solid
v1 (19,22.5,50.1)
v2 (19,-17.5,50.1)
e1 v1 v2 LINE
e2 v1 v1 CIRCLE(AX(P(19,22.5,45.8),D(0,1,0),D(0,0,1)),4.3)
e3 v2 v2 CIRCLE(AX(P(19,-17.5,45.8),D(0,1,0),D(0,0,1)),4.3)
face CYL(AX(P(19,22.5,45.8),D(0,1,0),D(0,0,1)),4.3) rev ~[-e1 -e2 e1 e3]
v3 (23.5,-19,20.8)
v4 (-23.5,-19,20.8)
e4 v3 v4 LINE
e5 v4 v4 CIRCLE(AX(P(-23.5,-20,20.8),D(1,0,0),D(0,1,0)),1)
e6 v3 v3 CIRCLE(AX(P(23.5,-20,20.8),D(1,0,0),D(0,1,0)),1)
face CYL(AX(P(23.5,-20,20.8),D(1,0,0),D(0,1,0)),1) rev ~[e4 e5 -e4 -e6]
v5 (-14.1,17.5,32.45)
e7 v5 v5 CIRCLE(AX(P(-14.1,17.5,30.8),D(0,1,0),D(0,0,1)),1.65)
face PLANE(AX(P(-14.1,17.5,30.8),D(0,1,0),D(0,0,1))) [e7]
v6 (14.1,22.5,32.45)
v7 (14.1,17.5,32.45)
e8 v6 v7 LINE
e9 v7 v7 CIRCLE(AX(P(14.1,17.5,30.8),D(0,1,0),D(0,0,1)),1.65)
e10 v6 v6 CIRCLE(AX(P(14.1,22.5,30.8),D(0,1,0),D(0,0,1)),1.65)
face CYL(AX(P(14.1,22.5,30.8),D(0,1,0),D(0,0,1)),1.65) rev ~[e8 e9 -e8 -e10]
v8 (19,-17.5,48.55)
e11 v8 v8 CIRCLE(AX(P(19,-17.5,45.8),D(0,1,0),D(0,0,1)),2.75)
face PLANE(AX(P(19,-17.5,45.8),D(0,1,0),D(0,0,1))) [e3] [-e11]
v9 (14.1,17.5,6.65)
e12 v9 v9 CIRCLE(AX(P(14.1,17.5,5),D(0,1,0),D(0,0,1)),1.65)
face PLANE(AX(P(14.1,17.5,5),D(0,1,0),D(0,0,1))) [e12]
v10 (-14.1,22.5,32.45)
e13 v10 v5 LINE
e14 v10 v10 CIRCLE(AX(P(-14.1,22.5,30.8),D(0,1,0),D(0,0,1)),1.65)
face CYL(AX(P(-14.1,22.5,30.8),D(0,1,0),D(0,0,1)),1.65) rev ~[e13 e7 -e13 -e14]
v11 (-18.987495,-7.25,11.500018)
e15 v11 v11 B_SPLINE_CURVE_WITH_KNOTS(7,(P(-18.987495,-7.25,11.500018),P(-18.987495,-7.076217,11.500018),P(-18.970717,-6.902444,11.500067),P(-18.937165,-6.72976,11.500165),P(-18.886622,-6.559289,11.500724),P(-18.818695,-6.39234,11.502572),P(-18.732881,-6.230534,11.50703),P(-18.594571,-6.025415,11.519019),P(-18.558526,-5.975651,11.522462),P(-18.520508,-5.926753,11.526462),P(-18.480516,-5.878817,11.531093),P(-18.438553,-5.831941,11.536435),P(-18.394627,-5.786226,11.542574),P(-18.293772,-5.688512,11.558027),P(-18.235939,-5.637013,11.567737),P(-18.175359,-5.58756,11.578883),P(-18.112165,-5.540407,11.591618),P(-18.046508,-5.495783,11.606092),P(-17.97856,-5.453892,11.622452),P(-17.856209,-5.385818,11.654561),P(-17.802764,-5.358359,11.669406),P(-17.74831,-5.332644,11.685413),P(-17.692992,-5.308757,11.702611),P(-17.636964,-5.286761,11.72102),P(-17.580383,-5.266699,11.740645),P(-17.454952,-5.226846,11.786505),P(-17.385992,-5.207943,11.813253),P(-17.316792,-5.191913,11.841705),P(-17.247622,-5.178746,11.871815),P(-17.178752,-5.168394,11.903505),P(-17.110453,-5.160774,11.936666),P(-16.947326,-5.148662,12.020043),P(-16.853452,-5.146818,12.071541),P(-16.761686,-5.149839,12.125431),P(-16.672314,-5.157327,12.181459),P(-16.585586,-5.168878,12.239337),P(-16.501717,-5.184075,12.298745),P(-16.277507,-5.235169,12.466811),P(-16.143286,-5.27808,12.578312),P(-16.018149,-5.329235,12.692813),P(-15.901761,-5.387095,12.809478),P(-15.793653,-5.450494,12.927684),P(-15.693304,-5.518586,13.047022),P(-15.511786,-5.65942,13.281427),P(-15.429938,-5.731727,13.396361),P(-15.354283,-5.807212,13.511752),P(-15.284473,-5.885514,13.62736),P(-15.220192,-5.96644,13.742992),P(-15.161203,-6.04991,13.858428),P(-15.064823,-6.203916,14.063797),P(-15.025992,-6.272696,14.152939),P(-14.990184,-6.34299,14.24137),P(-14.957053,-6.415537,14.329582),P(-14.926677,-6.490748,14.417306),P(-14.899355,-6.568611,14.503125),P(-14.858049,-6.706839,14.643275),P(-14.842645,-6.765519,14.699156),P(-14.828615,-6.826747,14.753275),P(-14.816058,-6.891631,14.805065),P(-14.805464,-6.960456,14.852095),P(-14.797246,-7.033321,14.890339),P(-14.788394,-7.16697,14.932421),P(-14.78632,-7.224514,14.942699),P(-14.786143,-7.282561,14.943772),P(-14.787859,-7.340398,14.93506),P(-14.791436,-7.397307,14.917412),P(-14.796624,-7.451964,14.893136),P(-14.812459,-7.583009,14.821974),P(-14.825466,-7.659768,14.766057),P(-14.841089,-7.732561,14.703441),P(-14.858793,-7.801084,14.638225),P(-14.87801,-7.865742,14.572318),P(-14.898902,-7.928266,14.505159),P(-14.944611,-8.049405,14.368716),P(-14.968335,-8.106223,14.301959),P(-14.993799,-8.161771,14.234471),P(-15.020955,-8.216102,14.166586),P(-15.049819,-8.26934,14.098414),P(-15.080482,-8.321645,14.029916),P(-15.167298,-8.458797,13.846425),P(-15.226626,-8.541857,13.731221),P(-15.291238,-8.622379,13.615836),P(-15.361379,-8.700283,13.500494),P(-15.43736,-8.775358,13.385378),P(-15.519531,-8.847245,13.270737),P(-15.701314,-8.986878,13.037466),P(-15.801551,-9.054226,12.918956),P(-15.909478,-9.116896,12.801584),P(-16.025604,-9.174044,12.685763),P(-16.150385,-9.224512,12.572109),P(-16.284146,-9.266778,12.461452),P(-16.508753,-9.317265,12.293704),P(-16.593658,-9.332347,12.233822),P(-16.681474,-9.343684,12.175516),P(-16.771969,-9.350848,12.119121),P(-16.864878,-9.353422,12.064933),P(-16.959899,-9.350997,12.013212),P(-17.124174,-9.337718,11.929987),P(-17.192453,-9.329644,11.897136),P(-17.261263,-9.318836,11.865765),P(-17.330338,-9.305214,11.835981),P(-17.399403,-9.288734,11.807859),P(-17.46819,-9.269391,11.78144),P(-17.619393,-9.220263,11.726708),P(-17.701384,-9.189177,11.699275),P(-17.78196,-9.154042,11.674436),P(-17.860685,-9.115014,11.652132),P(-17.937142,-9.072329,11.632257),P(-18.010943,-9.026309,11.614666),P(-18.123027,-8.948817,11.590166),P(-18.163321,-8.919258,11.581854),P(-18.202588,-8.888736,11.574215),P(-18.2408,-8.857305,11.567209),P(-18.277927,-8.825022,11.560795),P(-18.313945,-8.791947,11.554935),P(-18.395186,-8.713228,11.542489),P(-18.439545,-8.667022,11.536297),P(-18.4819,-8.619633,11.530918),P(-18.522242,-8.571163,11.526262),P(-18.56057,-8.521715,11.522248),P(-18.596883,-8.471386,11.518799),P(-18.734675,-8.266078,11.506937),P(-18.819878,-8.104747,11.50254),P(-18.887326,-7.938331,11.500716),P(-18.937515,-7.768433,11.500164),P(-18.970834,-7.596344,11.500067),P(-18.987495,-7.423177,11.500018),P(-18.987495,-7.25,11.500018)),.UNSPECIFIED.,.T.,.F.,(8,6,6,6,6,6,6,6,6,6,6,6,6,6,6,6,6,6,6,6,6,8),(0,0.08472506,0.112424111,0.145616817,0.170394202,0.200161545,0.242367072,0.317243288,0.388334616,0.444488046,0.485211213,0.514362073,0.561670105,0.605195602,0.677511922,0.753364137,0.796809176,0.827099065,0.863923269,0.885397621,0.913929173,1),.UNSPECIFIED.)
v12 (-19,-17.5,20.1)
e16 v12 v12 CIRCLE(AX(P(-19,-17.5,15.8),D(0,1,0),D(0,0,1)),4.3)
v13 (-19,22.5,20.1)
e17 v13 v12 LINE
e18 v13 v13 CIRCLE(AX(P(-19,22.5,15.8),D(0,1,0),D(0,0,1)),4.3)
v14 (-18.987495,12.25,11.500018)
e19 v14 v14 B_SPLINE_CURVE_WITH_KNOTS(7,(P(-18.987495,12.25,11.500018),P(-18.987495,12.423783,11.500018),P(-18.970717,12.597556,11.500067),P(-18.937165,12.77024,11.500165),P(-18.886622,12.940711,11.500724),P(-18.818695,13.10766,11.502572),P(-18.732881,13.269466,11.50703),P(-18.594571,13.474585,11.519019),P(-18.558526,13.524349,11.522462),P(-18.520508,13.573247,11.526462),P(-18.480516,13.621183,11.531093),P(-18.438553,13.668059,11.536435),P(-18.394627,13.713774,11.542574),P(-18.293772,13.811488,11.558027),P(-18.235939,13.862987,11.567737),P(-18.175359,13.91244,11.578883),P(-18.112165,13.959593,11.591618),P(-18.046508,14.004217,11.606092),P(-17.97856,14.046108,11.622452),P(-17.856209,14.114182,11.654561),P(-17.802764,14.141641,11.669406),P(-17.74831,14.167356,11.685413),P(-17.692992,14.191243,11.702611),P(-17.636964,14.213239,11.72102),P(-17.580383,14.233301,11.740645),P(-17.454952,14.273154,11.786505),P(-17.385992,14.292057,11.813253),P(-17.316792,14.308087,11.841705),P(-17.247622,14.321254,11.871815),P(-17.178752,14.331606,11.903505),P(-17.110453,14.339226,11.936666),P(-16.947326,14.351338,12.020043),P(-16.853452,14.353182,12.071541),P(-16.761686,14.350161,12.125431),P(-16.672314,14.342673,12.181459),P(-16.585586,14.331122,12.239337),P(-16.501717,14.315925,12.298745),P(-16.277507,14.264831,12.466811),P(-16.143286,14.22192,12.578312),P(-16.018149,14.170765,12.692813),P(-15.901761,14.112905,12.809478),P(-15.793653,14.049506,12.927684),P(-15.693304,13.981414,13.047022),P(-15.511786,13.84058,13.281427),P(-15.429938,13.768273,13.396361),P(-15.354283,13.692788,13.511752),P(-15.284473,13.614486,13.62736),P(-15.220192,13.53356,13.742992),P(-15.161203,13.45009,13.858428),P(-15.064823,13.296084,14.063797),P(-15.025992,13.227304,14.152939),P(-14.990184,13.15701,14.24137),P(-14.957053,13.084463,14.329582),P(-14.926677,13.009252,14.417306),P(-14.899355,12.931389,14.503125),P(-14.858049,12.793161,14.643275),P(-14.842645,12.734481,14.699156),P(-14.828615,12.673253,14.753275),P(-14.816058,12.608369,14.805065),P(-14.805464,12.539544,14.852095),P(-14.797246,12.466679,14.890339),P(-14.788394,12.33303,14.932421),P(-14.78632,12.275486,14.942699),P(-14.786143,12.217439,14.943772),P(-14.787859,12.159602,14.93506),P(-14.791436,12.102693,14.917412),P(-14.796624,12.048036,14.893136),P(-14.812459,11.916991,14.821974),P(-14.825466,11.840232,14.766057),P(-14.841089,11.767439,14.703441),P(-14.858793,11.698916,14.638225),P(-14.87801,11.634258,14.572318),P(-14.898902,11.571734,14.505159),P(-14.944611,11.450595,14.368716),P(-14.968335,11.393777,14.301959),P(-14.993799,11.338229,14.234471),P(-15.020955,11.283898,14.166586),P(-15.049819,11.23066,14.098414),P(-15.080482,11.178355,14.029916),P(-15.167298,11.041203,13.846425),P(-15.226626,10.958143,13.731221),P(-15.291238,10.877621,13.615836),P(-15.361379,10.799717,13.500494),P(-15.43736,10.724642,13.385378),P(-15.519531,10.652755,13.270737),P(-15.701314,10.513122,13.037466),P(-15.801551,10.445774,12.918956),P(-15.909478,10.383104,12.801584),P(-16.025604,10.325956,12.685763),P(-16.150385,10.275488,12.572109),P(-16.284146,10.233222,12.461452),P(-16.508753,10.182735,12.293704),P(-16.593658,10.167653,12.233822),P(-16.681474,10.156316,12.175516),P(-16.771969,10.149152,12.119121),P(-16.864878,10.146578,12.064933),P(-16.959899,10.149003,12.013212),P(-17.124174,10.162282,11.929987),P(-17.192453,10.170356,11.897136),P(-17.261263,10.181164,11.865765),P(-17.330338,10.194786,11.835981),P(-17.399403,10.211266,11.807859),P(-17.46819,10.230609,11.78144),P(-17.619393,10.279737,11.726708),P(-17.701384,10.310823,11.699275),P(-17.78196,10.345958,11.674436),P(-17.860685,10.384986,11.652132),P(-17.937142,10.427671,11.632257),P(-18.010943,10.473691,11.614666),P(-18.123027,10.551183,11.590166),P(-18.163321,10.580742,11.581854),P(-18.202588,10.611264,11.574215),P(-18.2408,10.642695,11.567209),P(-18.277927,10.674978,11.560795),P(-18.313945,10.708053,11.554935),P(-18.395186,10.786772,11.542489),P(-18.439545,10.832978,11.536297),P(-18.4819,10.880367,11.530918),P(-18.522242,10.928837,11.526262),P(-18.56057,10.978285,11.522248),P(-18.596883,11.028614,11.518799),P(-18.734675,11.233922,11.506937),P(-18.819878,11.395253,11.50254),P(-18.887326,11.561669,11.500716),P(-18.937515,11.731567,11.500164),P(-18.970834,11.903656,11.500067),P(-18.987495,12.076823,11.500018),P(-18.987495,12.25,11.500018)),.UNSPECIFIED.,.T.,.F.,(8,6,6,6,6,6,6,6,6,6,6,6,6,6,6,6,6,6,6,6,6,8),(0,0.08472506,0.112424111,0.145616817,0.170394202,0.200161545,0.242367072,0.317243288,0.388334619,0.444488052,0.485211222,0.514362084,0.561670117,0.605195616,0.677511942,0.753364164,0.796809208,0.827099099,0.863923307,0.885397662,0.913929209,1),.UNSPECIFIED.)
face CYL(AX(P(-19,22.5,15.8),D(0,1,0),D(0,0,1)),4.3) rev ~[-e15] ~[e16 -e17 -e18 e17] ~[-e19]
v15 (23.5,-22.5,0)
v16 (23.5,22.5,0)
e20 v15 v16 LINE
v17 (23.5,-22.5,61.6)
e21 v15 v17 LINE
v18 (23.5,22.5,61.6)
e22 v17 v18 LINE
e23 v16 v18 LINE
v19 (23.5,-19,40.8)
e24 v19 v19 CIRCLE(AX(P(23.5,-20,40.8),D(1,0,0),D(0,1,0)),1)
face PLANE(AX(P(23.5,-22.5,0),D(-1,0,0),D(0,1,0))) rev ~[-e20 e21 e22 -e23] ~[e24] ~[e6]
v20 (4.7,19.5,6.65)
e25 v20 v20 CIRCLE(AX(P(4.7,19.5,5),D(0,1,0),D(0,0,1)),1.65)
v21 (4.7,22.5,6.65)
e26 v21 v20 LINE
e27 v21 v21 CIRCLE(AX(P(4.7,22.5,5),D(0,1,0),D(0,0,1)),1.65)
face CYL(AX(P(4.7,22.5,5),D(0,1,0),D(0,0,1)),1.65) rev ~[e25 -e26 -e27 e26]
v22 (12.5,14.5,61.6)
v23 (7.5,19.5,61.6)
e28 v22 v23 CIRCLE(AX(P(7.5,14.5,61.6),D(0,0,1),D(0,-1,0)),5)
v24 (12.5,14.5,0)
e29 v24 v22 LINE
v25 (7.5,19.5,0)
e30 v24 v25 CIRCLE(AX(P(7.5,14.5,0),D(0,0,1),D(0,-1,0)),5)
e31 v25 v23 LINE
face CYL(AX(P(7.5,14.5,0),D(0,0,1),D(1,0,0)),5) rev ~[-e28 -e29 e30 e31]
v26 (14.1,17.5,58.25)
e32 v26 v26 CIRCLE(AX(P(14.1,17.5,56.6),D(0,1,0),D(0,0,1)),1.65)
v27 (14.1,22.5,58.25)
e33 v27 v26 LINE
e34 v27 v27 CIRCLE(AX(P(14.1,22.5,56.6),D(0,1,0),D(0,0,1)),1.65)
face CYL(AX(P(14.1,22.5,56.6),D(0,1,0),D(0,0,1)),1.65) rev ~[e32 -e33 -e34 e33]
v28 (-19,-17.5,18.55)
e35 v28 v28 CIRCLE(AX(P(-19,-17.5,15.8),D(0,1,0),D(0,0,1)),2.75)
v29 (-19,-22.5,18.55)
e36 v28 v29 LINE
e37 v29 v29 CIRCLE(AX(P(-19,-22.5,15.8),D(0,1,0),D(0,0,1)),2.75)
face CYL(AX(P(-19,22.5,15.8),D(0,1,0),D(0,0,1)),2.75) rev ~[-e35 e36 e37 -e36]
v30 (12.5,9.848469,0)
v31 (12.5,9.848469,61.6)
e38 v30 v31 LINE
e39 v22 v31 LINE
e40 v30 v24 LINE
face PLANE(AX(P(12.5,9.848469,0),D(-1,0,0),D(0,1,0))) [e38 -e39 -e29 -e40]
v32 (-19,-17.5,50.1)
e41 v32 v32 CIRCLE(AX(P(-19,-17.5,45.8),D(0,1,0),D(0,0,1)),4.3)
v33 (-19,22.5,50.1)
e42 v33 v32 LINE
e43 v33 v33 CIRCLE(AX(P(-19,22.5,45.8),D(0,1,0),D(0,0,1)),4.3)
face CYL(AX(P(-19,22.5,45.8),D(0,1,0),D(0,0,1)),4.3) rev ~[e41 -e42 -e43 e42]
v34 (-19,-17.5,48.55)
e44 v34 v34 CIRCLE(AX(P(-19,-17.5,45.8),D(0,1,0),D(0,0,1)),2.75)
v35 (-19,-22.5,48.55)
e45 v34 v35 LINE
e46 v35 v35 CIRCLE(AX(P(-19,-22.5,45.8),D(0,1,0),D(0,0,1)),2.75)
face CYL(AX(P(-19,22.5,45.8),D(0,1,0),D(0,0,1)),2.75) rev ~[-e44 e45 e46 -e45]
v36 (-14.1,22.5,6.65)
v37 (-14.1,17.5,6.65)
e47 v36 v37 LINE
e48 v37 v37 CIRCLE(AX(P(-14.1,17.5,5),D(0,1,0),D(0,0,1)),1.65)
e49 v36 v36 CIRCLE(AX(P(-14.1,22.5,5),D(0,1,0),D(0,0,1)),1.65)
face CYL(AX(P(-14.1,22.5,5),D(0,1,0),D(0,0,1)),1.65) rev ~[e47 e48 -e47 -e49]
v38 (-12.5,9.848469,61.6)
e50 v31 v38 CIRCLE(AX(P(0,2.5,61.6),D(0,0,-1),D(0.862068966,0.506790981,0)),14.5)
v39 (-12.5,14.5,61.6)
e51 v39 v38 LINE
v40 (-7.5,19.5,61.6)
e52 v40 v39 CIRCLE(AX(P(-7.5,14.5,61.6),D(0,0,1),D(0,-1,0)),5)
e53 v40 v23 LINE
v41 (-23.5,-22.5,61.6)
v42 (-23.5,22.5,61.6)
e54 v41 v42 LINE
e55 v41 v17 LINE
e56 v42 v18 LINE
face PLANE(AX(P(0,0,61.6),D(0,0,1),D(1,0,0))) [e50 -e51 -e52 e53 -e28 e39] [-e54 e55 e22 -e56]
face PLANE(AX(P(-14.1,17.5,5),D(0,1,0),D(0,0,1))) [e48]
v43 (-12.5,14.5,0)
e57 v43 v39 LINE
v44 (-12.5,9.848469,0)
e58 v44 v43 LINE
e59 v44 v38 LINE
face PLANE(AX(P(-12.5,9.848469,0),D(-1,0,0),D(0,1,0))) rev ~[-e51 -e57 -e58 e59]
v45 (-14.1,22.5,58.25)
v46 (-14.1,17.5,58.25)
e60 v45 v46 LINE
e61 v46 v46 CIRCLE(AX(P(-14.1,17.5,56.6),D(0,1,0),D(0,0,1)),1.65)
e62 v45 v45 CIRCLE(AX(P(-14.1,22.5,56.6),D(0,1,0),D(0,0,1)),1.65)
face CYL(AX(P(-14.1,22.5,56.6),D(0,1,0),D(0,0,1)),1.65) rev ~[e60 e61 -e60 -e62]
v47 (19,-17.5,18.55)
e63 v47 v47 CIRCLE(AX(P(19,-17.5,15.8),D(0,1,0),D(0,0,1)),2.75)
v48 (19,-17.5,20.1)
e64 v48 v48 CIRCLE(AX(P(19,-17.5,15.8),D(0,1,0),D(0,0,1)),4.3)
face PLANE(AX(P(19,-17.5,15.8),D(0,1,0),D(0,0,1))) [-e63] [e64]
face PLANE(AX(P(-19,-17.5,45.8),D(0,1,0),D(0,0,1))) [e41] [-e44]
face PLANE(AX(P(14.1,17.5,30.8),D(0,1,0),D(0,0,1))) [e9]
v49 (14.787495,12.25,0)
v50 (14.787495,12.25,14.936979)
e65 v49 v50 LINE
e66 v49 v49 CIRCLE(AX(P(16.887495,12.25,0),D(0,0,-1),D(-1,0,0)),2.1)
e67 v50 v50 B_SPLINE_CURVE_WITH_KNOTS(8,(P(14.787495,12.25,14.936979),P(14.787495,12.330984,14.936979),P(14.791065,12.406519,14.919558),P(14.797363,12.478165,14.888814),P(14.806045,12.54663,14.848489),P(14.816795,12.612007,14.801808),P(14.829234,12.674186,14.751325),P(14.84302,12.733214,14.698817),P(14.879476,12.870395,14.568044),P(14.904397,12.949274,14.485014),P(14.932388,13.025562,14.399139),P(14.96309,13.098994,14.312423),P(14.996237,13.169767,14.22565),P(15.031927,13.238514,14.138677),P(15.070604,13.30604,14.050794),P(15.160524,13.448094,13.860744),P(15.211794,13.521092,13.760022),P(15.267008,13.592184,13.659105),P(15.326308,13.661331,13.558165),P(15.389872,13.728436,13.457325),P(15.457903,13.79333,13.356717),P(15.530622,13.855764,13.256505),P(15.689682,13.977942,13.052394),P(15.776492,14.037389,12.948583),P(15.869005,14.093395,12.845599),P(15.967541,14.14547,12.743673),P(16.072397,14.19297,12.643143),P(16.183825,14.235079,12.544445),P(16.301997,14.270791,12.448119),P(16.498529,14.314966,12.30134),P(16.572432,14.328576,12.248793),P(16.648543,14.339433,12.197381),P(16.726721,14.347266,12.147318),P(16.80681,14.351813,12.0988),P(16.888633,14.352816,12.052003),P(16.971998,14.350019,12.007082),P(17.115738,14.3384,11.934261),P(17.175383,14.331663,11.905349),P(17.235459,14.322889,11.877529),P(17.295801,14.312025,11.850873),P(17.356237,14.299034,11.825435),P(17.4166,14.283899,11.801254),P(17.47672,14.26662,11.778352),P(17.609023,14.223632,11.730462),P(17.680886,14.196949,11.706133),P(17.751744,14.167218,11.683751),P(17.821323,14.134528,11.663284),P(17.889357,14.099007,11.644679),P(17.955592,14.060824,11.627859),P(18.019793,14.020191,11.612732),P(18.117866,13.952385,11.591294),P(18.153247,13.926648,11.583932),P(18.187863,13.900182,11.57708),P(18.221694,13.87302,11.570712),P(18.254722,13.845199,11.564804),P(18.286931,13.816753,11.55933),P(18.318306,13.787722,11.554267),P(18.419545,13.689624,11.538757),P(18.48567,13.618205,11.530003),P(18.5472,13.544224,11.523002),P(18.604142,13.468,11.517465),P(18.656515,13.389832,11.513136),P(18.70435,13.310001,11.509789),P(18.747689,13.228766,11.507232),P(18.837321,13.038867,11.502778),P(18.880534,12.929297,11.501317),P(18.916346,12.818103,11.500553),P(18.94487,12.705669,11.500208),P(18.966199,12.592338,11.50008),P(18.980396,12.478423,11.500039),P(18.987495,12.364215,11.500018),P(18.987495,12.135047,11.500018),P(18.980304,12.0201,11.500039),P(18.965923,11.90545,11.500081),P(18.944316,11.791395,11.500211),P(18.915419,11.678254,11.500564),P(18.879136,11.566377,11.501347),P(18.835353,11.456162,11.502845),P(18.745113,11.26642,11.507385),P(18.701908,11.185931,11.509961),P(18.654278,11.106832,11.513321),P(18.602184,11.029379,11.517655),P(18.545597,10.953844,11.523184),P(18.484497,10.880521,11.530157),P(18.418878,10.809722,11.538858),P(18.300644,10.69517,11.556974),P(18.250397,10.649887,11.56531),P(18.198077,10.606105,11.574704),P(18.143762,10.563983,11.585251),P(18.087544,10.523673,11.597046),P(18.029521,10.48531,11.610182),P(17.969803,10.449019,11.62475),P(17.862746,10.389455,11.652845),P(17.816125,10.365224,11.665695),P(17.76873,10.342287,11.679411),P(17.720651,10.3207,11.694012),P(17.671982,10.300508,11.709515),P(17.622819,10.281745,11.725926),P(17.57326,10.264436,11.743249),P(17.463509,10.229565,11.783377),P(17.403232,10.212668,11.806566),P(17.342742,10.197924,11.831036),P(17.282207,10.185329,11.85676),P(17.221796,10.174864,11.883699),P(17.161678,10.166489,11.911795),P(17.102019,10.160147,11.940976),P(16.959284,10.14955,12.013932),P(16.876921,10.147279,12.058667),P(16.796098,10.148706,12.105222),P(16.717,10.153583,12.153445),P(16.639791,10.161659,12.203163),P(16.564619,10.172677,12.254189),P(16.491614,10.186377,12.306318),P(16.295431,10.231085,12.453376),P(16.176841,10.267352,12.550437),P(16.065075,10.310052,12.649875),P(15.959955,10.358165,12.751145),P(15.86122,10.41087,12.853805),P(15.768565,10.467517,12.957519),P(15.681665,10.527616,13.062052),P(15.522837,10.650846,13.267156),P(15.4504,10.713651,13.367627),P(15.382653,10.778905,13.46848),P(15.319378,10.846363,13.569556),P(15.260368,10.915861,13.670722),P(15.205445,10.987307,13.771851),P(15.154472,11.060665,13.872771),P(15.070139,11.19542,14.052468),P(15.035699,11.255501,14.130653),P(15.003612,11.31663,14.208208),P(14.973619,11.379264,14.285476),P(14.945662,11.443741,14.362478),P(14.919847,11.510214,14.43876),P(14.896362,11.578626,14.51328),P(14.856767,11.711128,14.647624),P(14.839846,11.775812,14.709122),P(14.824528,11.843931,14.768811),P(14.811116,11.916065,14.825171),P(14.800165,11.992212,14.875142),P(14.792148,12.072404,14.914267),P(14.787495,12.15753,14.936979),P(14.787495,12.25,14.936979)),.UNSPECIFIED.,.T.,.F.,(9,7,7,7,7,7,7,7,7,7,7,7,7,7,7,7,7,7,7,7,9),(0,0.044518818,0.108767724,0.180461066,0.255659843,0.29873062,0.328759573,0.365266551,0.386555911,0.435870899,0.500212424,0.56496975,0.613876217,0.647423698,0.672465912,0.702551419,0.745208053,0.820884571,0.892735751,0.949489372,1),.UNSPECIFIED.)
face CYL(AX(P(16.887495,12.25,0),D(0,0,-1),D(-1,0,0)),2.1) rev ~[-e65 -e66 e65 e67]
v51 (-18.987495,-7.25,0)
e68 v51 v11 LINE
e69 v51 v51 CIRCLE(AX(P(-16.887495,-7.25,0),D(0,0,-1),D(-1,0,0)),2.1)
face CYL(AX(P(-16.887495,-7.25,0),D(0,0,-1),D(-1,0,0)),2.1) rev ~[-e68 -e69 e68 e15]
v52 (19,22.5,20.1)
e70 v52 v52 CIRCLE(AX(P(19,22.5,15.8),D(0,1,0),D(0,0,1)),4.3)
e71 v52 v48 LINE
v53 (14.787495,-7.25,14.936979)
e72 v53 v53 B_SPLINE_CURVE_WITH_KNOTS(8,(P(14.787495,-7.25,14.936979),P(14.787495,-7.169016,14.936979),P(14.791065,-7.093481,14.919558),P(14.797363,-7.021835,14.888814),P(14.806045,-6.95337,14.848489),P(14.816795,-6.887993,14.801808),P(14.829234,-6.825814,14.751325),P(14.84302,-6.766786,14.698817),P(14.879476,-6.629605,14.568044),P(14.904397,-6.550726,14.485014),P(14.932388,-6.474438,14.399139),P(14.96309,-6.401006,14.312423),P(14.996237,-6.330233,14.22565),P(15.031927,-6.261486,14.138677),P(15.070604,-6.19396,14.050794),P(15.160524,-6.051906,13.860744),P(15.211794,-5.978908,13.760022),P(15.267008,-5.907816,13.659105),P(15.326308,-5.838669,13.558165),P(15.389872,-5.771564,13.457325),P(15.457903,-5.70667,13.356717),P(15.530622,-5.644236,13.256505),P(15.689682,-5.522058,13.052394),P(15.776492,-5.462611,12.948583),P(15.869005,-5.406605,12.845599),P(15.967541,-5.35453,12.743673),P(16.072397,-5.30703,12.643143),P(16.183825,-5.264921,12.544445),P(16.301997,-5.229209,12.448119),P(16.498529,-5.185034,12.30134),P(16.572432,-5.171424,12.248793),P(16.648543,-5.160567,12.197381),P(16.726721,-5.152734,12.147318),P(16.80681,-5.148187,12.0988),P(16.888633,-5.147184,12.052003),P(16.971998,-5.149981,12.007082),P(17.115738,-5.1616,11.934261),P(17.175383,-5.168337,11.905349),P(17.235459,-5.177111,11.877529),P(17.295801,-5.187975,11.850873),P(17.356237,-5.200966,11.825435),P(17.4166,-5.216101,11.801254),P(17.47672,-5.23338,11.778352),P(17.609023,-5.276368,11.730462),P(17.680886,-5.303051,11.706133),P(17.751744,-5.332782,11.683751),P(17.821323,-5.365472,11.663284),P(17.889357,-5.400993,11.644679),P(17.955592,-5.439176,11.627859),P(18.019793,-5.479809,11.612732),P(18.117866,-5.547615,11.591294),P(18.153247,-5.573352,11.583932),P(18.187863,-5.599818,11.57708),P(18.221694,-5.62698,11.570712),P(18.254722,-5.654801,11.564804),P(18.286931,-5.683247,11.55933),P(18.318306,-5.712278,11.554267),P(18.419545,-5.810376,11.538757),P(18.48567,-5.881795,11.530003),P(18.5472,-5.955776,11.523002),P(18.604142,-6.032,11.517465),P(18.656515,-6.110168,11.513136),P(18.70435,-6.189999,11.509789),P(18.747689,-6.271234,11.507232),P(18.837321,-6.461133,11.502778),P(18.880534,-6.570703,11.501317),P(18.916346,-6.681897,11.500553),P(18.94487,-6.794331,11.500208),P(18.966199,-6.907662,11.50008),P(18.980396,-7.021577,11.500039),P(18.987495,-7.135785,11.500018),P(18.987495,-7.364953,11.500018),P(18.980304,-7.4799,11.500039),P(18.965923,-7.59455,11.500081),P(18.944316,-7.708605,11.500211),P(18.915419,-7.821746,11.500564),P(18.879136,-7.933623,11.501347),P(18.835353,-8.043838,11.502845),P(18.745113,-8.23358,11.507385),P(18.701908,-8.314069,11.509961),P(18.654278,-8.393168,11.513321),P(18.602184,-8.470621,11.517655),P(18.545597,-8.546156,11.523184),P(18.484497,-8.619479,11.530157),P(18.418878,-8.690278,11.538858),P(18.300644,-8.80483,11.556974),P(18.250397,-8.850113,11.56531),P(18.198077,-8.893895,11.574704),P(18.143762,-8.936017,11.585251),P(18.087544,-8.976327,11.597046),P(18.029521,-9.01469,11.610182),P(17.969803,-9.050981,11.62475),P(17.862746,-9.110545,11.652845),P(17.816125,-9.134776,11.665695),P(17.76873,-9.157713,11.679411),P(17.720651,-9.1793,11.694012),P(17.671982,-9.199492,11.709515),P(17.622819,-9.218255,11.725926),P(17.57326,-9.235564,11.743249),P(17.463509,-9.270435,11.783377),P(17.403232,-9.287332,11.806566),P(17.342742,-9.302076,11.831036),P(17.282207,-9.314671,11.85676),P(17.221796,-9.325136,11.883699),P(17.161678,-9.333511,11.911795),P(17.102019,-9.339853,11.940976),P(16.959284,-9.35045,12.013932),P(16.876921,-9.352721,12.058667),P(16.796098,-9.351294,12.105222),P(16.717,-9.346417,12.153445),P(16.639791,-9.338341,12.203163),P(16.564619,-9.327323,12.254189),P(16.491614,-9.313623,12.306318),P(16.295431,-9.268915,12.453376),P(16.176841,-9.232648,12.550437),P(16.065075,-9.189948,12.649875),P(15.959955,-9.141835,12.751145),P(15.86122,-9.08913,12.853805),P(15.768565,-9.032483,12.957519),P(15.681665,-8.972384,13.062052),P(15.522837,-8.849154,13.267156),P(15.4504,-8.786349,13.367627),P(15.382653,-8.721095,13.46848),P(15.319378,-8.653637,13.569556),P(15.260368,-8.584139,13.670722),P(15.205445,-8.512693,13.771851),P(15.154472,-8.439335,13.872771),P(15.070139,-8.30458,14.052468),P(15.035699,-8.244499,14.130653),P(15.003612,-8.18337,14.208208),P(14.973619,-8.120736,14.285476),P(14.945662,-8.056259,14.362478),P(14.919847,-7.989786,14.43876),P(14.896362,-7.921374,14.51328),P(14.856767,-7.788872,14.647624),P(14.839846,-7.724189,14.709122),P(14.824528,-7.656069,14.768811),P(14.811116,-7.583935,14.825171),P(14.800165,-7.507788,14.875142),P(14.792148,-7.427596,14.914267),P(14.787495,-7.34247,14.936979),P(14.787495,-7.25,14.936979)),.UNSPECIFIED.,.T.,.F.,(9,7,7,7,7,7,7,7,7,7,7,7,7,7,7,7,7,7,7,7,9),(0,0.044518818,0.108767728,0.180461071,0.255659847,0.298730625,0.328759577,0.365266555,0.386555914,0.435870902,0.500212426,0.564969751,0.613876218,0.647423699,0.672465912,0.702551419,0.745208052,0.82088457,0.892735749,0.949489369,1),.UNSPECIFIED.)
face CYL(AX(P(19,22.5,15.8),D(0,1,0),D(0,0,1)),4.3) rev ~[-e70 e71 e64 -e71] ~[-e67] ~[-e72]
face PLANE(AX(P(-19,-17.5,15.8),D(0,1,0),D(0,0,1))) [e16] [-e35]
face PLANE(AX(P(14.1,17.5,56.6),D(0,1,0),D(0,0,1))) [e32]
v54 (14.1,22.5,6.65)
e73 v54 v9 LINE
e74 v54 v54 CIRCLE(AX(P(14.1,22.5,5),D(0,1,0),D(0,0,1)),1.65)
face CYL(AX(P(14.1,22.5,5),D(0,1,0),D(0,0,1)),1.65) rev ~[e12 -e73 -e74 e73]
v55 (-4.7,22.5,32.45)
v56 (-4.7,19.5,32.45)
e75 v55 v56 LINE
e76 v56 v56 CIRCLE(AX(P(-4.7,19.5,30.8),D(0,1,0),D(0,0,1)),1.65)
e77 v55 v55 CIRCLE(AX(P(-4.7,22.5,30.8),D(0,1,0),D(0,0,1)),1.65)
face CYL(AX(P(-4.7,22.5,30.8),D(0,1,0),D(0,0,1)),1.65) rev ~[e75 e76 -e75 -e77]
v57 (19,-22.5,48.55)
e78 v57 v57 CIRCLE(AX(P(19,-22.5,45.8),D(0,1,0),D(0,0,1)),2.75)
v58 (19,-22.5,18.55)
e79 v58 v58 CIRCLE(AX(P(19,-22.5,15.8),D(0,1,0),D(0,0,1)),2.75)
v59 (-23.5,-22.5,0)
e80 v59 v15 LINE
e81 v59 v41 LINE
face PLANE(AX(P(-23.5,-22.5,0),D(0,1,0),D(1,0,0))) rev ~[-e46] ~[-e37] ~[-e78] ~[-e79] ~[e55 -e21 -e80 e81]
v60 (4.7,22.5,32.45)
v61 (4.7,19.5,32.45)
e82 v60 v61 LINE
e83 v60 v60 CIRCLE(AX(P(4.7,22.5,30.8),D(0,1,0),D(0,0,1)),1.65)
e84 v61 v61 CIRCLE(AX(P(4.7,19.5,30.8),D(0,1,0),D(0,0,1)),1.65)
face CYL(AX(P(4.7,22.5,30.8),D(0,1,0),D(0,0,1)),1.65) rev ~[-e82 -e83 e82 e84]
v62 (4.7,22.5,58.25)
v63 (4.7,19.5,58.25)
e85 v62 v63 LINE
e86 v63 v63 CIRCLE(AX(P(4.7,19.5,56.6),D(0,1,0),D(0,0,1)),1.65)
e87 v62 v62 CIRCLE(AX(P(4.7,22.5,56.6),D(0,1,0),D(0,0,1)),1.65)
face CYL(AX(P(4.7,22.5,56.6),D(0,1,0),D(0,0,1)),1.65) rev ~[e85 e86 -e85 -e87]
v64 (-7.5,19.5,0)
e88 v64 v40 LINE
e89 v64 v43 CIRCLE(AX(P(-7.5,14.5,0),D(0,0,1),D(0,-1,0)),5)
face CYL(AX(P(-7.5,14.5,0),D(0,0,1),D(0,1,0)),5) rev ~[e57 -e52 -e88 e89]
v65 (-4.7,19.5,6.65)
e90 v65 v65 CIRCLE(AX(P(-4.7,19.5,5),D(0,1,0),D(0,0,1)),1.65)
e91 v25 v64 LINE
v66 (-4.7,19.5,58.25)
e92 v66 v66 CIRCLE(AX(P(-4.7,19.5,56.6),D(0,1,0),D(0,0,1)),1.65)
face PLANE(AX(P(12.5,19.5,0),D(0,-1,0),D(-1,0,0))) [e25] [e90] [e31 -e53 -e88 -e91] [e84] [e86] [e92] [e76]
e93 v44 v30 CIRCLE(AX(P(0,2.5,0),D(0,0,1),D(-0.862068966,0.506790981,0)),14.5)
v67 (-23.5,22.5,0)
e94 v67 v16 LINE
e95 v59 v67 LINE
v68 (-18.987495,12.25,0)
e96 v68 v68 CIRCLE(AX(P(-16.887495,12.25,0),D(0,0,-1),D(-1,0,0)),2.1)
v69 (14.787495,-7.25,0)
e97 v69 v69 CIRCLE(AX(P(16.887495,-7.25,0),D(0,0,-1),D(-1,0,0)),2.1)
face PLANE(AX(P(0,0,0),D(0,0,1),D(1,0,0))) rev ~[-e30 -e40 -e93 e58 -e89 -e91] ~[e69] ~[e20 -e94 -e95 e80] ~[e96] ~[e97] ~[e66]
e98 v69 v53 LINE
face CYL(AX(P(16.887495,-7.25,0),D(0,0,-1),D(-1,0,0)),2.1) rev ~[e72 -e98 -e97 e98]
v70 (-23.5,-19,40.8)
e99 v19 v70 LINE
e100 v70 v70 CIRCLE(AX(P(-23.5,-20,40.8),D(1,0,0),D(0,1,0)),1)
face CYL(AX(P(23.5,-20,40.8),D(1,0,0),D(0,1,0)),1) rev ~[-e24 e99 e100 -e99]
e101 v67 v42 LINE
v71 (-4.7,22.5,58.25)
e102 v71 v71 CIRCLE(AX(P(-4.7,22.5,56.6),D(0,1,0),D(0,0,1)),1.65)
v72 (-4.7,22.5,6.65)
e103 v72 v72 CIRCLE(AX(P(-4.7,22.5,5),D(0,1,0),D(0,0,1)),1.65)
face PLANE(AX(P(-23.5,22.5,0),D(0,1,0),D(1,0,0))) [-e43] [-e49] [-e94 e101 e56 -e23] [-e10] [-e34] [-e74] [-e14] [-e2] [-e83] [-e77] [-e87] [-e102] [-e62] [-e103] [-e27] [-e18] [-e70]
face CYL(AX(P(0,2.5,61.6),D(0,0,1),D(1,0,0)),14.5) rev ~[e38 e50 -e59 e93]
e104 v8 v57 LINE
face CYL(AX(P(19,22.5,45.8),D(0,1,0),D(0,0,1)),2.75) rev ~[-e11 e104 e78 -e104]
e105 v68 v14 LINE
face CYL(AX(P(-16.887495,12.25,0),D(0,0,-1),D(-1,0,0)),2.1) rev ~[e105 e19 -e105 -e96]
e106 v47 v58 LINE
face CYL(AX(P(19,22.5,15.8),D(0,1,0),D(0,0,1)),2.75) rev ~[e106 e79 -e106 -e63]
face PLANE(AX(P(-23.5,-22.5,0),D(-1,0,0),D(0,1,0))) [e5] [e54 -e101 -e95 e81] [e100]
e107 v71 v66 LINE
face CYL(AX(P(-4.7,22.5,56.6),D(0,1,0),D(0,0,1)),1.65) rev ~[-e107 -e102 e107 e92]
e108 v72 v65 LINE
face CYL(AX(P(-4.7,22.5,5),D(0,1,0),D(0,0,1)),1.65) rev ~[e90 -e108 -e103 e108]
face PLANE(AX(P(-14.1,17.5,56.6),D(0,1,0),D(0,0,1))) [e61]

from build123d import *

# Parameters (mm, degrees)
SKETCH_1_W                       = 47
SKETCH_1_H                       = 45
EXTRUDE_1_DEPTH                  = 61.6
SKETCH_2_R                       = 14.5
CUT_EXTRUDE_1_DEPTH              = 100
SKETCH_6_R                       = 2.1
CUT_EXTRUDE_5_DEPTH              = 15
SKETCH_7_W                       = 25
SKETCH_7_H                       = 9.651530772
CUT_EXTRUDE_6_DEPTH              = 100
FILLET_1_R                       = 5
SKETCH_10_R                      = 2.75
CUT_EXTRUDE_8_DEPTH              = 100
PATTERN_LINEAR_2_COUNT           = 2
PATTERN_LINEAR_2_PITCH           = 38
PATTERN_LINEAR_2_COUNT_DIR2      = 2
PATTERN_LINEAR_2_PITCH_DIR2      = 30
SKETCH_11_R                      = 4.3
CUT_EXTRUDE_9_DEPTH              = 40
PATTERN_LINEAR_3_COUNT           = 2
PATTERN_LINEAR_3_PITCH           = 38
PATTERN_LINEAR_3_COUNT_DIR2      = 2
PATTERN_LINEAR_3_PITCH_DIR2      = 30
SKETCH_12_R                      = 1.65
CUT_EXTRUDE_10_DEPTH             = 5
PATTERN_LINEAR_4_COUNT           = 4
PATTERN_LINEAR_4_PITCH           = 9.4
PATTERN_LINEAR_5_COUNT           = 2
PATTERN_LINEAR_5_PITCH           = 25.8
PATTERN_LINEAR_5_COPY_1_SKETCH_R = 1.65
PATTERN_LINEAR_5_COPY_1_DEPTH    = 5
PATTERN_LINEAR_5_COPY_2_SKETCH_R = 1.65
PATTERN_LINEAR_5_COPY_2_DEPTH    = 5
PATTERN_LINEAR_5_COPY_3_SKETCH_R = 1.65
PATTERN_LINEAR_5_COPY_3_DEPTH    = 5
PATTERN_LINEAR_6_COUNT           = 2
PATTERN_LINEAR_6_PITCH           = 51.6
PATTERN_LINEAR_6_COPY_1_SKETCH_R = 1.65
PATTERN_LINEAR_6_COPY_1_DEPTH    = 5
PATTERN_LINEAR_6_COPY_2_SKETCH_R = 1.65
PATTERN_LINEAR_6_COPY_2_DEPTH    = 5
PATTERN_LINEAR_6_COPY_3_SKETCH_R = 1.65
PATTERN_LINEAR_6_COPY_3_DEPTH    = 5
SKETCH_13_R                      = 1
CUT_EXTRUDE_11_DEPTH             = 100


with BuildPart() as part:
    # Эскиз1 → Бобышка-Вытянуть1 (new body)
    with BuildSketch(Plane.XY):
        Rectangle(SKETCH_1_W, SKETCH_1_H)
    extrude(amount=EXTRUDE_1_DEPTH)

    # Эскиз2 → Вырез-Вытянуть1 (cut)
    with BuildSketch(Plane.XY.offset(61.6)):
        with Locations((0, 2.5)):
            Circle(SKETCH_2_R)
    extrude(amount=-CUT_EXTRUDE_1_DEPTH, mode=Mode.SUBTRACT)

    # Эскиз6 → Вырез-Вытянуть5 (cut)
    with BuildSketch(Plane(origin=(0, 0, 0), x_dir=(-1, 0, 0), z_dir=(0, 0, -1))):
        with Locations((-16.887495374, 12.25)):
            Circle(SKETCH_6_R)
        with Locations((-16.887495374, -7.25)):
            Circle(SKETCH_6_R)
        with Locations((16.887495374, 12.25)):
            Circle(SKETCH_6_R)
        with Locations((16.887495374, -7.25)):
            Circle(SKETCH_6_R)
    extrude(amount=-CUT_EXTRUDE_5_DEPTH, mode=Mode.SUBTRACT)

    # Эскиз7 → Вырез-Вытянуть6 (cut)
    with BuildSketch(Plane(origin=(0, 0, 0), x_dir=(-1, 0, 0), z_dir=(0, 0, -1))):
        with Locations((0, 14.674234614)):
            Rectangle(SKETCH_7_W, SKETCH_7_H)
    extrude(amount=-CUT_EXTRUDE_6_DEPTH, mode=Mode.SUBTRACT)

    # Скругление1
    fillet_1_edges = [part.edges().sort_by_distance(p)[0] for p in [
        (12.5, 19.5, 30.8),
        (-12.5, 19.5, 30.8),
    ]]
    fillet(fillet_1_edges, radius=FILLET_1_R)

    # Эскиз10 → Вырез-Вытянуть8 (cut)
    with BuildSketch(Plane(origin=(0, 22.5, 0), x_dir=(1, 0, 0), z_dir=(0, 1, 0))):
        with Locations(Location((-19, -15.8, 0), (0, 0, 270))):
            Circle(SKETCH_10_R)
    cut_extrude_8 = extrude(amount=-CUT_EXTRUDE_8_DEPTH, mode=Mode.SUBTRACT)

    # Линейный массив2: Cut-Extrude 8 2 × 2
    with Locations(*[(i * PATTERN_LINEAR_2_PITCH, 0, j * PATTERN_LINEAR_2_PITCH_DIR2) for i in range(PATTERN_LINEAR_2_COUNT) for j in range(PATTERN_LINEAR_2_COUNT_DIR2) if (i, j) != (0, 0)]):
        add(cut_extrude_8, mode=Mode.SUBTRACT)

    # Эскиз11 → Вырез-Вытянуть9 (cut)
    with BuildSketch(Plane(origin=(0, 22.5, 0), x_dir=(1, 0, 0), z_dir=(0, 1, 0))):
        with Locations(Location((-19, -15.8, 0), (0, 0, 270))):
            Circle(SKETCH_11_R)
    cut_extrude_9 = extrude(amount=-CUT_EXTRUDE_9_DEPTH, mode=Mode.SUBTRACT)

    # Линейный массив3: Cut-Extrude 9 2 × 2
    with Locations(*[(i * PATTERN_LINEAR_3_PITCH, 0, j * PATTERN_LINEAR_3_PITCH_DIR2) for i in range(PATTERN_LINEAR_3_COUNT) for j in range(PATTERN_LINEAR_3_COUNT_DIR2) if (i, j) != (0, 0)]):
        add(cut_extrude_9, mode=Mode.SUBTRACT)

    # Эскиз12 → Вырез-Вытянуть10 (cut)
    with BuildSketch(Plane(origin=(0, 22.5, 0), x_dir=(1, 0, 0), z_dir=(0, 1, 0))):
        with Locations(Location((-14.1, -5, 0), (0, 0, 270))):
            Circle(SKETCH_12_R)
    cut_extrude_10 = extrude(amount=-CUT_EXTRUDE_10_DEPTH, mode=Mode.SUBTRACT)

    # Линейный массив4: Вырез-Вытянуть10 ×4
    with Locations(*[(i * PATTERN_LINEAR_4_PITCH, 0, 0) for i in range(1, PATTERN_LINEAR_4_COUNT)]):
        add(cut_extrude_10, mode=Mode.SUBTRACT)

    # Линейный массив5: Вырез-Вытянуть10 ×2
    with Locations(*[(0, 0, i * PATTERN_LINEAR_5_PITCH) for i in range(1, PATTERN_LINEAR_5_COUNT)]):
        add(cut_extrude_10, mode=Mode.SUBTRACT)

    # Линейный массив5 copy 1 sketch → Линейный массив5 copy 1 (cut)
    with BuildSketch(Plane(origin=(9.4, 22.5, 25.8), x_dir=(1, 0, 0), z_dir=(0, 1, 0))):
        with Locations(Location((-14.1, -5, 0), (0, 0, 270))):
            Circle(PATTERN_LINEAR_5_COPY_1_SKETCH_R)
    extrude(amount=-PATTERN_LINEAR_5_COPY_1_DEPTH, mode=Mode.SUBTRACT)

    # Линейный массив5 copy 2 sketch → Линейный массив5 copy 2 (cut)
    with BuildSketch(Plane(origin=(18.8, 22.5, 25.8), x_dir=(1, 0, 0), z_dir=(0, 1, 0))):
        with Locations(Location((-14.1, -5, 0), (0, 0, 270))):
            Circle(PATTERN_LINEAR_5_COPY_2_SKETCH_R)
    extrude(amount=-PATTERN_LINEAR_5_COPY_2_DEPTH, mode=Mode.SUBTRACT)

    # Линейный массив5 copy 3 sketch → Линейный массив5 copy 3 (cut)
    with BuildSketch(Plane(origin=(28.2, 22.5, 25.8), x_dir=(1, 0, 0), z_dir=(0, 1, 0))):
        with Locations(Location((-14.1, -5, 0), (0, 0, 270))):
            Circle(PATTERN_LINEAR_5_COPY_3_SKETCH_R)
    extrude(amount=-PATTERN_LINEAR_5_COPY_3_DEPTH, mode=Mode.SUBTRACT)

    # Линейный массив6: Вырез-Вытянуть10 ×2
    with Locations(*[(0, 0, i * PATTERN_LINEAR_6_PITCH) for i in range(1, PATTERN_LINEAR_6_COUNT)]):
        add(cut_extrude_10, mode=Mode.SUBTRACT)

    # Линейный массив6 copy 1 sketch → Линейный массив6 copy 1 (cut)
    with BuildSketch(Plane(origin=(9.4, 22.5, 51.6), x_dir=(1, 0, 0), z_dir=(0, 1, 0))):
        with Locations(Location((-14.1, -5, 0), (0, 0, 270))):
            Circle(PATTERN_LINEAR_6_COPY_1_SKETCH_R)
    extrude(amount=-PATTERN_LINEAR_6_COPY_1_DEPTH, mode=Mode.SUBTRACT)

    # Линейный массив6 copy 2 sketch → Линейный массив6 copy 2 (cut)
    with BuildSketch(Plane(origin=(18.8, 22.5, 51.6), x_dir=(1, 0, 0), z_dir=(0, 1, 0))):
        with Locations(Location((-14.1, -5, 0), (0, 0, 270))):
            Circle(PATTERN_LINEAR_6_COPY_2_SKETCH_R)
    extrude(amount=-PATTERN_LINEAR_6_COPY_2_DEPTH, mode=Mode.SUBTRACT)

    # Линейный массив6 copy 3 sketch → Линейный массив6 copy 3 (cut)
    with BuildSketch(Plane(origin=(28.2, 22.5, 51.6), x_dir=(1, 0, 0), z_dir=(0, 1, 0))):
        with Locations(Location((-14.1, -5, 0), (0, 0, 270))):
            Circle(PATTERN_LINEAR_6_COPY_3_SKETCH_R)
    extrude(amount=-PATTERN_LINEAR_6_COPY_3_DEPTH, mode=Mode.SUBTRACT)

    # Эскиз13 → Вырез-Вытянуть11 (cut)
    with BuildSketch(Plane(origin=(23.5, 0, 0), x_dir=(0, 0, -1), z_dir=(1, 0, 0))):
        with Locations(Location((-40.8, -20, 0), (0, 0, 90))):
            Circle(SKETCH_13_R)
        with Locations(Location((-20.8, -20, 0), (0, 0, 90))):
            Circle(SKETCH_13_R)
    extrude(amount=-CUT_EXTRUDE_11_DEPTH, mode=Mode.SUBTRACT)


solid = part.part
